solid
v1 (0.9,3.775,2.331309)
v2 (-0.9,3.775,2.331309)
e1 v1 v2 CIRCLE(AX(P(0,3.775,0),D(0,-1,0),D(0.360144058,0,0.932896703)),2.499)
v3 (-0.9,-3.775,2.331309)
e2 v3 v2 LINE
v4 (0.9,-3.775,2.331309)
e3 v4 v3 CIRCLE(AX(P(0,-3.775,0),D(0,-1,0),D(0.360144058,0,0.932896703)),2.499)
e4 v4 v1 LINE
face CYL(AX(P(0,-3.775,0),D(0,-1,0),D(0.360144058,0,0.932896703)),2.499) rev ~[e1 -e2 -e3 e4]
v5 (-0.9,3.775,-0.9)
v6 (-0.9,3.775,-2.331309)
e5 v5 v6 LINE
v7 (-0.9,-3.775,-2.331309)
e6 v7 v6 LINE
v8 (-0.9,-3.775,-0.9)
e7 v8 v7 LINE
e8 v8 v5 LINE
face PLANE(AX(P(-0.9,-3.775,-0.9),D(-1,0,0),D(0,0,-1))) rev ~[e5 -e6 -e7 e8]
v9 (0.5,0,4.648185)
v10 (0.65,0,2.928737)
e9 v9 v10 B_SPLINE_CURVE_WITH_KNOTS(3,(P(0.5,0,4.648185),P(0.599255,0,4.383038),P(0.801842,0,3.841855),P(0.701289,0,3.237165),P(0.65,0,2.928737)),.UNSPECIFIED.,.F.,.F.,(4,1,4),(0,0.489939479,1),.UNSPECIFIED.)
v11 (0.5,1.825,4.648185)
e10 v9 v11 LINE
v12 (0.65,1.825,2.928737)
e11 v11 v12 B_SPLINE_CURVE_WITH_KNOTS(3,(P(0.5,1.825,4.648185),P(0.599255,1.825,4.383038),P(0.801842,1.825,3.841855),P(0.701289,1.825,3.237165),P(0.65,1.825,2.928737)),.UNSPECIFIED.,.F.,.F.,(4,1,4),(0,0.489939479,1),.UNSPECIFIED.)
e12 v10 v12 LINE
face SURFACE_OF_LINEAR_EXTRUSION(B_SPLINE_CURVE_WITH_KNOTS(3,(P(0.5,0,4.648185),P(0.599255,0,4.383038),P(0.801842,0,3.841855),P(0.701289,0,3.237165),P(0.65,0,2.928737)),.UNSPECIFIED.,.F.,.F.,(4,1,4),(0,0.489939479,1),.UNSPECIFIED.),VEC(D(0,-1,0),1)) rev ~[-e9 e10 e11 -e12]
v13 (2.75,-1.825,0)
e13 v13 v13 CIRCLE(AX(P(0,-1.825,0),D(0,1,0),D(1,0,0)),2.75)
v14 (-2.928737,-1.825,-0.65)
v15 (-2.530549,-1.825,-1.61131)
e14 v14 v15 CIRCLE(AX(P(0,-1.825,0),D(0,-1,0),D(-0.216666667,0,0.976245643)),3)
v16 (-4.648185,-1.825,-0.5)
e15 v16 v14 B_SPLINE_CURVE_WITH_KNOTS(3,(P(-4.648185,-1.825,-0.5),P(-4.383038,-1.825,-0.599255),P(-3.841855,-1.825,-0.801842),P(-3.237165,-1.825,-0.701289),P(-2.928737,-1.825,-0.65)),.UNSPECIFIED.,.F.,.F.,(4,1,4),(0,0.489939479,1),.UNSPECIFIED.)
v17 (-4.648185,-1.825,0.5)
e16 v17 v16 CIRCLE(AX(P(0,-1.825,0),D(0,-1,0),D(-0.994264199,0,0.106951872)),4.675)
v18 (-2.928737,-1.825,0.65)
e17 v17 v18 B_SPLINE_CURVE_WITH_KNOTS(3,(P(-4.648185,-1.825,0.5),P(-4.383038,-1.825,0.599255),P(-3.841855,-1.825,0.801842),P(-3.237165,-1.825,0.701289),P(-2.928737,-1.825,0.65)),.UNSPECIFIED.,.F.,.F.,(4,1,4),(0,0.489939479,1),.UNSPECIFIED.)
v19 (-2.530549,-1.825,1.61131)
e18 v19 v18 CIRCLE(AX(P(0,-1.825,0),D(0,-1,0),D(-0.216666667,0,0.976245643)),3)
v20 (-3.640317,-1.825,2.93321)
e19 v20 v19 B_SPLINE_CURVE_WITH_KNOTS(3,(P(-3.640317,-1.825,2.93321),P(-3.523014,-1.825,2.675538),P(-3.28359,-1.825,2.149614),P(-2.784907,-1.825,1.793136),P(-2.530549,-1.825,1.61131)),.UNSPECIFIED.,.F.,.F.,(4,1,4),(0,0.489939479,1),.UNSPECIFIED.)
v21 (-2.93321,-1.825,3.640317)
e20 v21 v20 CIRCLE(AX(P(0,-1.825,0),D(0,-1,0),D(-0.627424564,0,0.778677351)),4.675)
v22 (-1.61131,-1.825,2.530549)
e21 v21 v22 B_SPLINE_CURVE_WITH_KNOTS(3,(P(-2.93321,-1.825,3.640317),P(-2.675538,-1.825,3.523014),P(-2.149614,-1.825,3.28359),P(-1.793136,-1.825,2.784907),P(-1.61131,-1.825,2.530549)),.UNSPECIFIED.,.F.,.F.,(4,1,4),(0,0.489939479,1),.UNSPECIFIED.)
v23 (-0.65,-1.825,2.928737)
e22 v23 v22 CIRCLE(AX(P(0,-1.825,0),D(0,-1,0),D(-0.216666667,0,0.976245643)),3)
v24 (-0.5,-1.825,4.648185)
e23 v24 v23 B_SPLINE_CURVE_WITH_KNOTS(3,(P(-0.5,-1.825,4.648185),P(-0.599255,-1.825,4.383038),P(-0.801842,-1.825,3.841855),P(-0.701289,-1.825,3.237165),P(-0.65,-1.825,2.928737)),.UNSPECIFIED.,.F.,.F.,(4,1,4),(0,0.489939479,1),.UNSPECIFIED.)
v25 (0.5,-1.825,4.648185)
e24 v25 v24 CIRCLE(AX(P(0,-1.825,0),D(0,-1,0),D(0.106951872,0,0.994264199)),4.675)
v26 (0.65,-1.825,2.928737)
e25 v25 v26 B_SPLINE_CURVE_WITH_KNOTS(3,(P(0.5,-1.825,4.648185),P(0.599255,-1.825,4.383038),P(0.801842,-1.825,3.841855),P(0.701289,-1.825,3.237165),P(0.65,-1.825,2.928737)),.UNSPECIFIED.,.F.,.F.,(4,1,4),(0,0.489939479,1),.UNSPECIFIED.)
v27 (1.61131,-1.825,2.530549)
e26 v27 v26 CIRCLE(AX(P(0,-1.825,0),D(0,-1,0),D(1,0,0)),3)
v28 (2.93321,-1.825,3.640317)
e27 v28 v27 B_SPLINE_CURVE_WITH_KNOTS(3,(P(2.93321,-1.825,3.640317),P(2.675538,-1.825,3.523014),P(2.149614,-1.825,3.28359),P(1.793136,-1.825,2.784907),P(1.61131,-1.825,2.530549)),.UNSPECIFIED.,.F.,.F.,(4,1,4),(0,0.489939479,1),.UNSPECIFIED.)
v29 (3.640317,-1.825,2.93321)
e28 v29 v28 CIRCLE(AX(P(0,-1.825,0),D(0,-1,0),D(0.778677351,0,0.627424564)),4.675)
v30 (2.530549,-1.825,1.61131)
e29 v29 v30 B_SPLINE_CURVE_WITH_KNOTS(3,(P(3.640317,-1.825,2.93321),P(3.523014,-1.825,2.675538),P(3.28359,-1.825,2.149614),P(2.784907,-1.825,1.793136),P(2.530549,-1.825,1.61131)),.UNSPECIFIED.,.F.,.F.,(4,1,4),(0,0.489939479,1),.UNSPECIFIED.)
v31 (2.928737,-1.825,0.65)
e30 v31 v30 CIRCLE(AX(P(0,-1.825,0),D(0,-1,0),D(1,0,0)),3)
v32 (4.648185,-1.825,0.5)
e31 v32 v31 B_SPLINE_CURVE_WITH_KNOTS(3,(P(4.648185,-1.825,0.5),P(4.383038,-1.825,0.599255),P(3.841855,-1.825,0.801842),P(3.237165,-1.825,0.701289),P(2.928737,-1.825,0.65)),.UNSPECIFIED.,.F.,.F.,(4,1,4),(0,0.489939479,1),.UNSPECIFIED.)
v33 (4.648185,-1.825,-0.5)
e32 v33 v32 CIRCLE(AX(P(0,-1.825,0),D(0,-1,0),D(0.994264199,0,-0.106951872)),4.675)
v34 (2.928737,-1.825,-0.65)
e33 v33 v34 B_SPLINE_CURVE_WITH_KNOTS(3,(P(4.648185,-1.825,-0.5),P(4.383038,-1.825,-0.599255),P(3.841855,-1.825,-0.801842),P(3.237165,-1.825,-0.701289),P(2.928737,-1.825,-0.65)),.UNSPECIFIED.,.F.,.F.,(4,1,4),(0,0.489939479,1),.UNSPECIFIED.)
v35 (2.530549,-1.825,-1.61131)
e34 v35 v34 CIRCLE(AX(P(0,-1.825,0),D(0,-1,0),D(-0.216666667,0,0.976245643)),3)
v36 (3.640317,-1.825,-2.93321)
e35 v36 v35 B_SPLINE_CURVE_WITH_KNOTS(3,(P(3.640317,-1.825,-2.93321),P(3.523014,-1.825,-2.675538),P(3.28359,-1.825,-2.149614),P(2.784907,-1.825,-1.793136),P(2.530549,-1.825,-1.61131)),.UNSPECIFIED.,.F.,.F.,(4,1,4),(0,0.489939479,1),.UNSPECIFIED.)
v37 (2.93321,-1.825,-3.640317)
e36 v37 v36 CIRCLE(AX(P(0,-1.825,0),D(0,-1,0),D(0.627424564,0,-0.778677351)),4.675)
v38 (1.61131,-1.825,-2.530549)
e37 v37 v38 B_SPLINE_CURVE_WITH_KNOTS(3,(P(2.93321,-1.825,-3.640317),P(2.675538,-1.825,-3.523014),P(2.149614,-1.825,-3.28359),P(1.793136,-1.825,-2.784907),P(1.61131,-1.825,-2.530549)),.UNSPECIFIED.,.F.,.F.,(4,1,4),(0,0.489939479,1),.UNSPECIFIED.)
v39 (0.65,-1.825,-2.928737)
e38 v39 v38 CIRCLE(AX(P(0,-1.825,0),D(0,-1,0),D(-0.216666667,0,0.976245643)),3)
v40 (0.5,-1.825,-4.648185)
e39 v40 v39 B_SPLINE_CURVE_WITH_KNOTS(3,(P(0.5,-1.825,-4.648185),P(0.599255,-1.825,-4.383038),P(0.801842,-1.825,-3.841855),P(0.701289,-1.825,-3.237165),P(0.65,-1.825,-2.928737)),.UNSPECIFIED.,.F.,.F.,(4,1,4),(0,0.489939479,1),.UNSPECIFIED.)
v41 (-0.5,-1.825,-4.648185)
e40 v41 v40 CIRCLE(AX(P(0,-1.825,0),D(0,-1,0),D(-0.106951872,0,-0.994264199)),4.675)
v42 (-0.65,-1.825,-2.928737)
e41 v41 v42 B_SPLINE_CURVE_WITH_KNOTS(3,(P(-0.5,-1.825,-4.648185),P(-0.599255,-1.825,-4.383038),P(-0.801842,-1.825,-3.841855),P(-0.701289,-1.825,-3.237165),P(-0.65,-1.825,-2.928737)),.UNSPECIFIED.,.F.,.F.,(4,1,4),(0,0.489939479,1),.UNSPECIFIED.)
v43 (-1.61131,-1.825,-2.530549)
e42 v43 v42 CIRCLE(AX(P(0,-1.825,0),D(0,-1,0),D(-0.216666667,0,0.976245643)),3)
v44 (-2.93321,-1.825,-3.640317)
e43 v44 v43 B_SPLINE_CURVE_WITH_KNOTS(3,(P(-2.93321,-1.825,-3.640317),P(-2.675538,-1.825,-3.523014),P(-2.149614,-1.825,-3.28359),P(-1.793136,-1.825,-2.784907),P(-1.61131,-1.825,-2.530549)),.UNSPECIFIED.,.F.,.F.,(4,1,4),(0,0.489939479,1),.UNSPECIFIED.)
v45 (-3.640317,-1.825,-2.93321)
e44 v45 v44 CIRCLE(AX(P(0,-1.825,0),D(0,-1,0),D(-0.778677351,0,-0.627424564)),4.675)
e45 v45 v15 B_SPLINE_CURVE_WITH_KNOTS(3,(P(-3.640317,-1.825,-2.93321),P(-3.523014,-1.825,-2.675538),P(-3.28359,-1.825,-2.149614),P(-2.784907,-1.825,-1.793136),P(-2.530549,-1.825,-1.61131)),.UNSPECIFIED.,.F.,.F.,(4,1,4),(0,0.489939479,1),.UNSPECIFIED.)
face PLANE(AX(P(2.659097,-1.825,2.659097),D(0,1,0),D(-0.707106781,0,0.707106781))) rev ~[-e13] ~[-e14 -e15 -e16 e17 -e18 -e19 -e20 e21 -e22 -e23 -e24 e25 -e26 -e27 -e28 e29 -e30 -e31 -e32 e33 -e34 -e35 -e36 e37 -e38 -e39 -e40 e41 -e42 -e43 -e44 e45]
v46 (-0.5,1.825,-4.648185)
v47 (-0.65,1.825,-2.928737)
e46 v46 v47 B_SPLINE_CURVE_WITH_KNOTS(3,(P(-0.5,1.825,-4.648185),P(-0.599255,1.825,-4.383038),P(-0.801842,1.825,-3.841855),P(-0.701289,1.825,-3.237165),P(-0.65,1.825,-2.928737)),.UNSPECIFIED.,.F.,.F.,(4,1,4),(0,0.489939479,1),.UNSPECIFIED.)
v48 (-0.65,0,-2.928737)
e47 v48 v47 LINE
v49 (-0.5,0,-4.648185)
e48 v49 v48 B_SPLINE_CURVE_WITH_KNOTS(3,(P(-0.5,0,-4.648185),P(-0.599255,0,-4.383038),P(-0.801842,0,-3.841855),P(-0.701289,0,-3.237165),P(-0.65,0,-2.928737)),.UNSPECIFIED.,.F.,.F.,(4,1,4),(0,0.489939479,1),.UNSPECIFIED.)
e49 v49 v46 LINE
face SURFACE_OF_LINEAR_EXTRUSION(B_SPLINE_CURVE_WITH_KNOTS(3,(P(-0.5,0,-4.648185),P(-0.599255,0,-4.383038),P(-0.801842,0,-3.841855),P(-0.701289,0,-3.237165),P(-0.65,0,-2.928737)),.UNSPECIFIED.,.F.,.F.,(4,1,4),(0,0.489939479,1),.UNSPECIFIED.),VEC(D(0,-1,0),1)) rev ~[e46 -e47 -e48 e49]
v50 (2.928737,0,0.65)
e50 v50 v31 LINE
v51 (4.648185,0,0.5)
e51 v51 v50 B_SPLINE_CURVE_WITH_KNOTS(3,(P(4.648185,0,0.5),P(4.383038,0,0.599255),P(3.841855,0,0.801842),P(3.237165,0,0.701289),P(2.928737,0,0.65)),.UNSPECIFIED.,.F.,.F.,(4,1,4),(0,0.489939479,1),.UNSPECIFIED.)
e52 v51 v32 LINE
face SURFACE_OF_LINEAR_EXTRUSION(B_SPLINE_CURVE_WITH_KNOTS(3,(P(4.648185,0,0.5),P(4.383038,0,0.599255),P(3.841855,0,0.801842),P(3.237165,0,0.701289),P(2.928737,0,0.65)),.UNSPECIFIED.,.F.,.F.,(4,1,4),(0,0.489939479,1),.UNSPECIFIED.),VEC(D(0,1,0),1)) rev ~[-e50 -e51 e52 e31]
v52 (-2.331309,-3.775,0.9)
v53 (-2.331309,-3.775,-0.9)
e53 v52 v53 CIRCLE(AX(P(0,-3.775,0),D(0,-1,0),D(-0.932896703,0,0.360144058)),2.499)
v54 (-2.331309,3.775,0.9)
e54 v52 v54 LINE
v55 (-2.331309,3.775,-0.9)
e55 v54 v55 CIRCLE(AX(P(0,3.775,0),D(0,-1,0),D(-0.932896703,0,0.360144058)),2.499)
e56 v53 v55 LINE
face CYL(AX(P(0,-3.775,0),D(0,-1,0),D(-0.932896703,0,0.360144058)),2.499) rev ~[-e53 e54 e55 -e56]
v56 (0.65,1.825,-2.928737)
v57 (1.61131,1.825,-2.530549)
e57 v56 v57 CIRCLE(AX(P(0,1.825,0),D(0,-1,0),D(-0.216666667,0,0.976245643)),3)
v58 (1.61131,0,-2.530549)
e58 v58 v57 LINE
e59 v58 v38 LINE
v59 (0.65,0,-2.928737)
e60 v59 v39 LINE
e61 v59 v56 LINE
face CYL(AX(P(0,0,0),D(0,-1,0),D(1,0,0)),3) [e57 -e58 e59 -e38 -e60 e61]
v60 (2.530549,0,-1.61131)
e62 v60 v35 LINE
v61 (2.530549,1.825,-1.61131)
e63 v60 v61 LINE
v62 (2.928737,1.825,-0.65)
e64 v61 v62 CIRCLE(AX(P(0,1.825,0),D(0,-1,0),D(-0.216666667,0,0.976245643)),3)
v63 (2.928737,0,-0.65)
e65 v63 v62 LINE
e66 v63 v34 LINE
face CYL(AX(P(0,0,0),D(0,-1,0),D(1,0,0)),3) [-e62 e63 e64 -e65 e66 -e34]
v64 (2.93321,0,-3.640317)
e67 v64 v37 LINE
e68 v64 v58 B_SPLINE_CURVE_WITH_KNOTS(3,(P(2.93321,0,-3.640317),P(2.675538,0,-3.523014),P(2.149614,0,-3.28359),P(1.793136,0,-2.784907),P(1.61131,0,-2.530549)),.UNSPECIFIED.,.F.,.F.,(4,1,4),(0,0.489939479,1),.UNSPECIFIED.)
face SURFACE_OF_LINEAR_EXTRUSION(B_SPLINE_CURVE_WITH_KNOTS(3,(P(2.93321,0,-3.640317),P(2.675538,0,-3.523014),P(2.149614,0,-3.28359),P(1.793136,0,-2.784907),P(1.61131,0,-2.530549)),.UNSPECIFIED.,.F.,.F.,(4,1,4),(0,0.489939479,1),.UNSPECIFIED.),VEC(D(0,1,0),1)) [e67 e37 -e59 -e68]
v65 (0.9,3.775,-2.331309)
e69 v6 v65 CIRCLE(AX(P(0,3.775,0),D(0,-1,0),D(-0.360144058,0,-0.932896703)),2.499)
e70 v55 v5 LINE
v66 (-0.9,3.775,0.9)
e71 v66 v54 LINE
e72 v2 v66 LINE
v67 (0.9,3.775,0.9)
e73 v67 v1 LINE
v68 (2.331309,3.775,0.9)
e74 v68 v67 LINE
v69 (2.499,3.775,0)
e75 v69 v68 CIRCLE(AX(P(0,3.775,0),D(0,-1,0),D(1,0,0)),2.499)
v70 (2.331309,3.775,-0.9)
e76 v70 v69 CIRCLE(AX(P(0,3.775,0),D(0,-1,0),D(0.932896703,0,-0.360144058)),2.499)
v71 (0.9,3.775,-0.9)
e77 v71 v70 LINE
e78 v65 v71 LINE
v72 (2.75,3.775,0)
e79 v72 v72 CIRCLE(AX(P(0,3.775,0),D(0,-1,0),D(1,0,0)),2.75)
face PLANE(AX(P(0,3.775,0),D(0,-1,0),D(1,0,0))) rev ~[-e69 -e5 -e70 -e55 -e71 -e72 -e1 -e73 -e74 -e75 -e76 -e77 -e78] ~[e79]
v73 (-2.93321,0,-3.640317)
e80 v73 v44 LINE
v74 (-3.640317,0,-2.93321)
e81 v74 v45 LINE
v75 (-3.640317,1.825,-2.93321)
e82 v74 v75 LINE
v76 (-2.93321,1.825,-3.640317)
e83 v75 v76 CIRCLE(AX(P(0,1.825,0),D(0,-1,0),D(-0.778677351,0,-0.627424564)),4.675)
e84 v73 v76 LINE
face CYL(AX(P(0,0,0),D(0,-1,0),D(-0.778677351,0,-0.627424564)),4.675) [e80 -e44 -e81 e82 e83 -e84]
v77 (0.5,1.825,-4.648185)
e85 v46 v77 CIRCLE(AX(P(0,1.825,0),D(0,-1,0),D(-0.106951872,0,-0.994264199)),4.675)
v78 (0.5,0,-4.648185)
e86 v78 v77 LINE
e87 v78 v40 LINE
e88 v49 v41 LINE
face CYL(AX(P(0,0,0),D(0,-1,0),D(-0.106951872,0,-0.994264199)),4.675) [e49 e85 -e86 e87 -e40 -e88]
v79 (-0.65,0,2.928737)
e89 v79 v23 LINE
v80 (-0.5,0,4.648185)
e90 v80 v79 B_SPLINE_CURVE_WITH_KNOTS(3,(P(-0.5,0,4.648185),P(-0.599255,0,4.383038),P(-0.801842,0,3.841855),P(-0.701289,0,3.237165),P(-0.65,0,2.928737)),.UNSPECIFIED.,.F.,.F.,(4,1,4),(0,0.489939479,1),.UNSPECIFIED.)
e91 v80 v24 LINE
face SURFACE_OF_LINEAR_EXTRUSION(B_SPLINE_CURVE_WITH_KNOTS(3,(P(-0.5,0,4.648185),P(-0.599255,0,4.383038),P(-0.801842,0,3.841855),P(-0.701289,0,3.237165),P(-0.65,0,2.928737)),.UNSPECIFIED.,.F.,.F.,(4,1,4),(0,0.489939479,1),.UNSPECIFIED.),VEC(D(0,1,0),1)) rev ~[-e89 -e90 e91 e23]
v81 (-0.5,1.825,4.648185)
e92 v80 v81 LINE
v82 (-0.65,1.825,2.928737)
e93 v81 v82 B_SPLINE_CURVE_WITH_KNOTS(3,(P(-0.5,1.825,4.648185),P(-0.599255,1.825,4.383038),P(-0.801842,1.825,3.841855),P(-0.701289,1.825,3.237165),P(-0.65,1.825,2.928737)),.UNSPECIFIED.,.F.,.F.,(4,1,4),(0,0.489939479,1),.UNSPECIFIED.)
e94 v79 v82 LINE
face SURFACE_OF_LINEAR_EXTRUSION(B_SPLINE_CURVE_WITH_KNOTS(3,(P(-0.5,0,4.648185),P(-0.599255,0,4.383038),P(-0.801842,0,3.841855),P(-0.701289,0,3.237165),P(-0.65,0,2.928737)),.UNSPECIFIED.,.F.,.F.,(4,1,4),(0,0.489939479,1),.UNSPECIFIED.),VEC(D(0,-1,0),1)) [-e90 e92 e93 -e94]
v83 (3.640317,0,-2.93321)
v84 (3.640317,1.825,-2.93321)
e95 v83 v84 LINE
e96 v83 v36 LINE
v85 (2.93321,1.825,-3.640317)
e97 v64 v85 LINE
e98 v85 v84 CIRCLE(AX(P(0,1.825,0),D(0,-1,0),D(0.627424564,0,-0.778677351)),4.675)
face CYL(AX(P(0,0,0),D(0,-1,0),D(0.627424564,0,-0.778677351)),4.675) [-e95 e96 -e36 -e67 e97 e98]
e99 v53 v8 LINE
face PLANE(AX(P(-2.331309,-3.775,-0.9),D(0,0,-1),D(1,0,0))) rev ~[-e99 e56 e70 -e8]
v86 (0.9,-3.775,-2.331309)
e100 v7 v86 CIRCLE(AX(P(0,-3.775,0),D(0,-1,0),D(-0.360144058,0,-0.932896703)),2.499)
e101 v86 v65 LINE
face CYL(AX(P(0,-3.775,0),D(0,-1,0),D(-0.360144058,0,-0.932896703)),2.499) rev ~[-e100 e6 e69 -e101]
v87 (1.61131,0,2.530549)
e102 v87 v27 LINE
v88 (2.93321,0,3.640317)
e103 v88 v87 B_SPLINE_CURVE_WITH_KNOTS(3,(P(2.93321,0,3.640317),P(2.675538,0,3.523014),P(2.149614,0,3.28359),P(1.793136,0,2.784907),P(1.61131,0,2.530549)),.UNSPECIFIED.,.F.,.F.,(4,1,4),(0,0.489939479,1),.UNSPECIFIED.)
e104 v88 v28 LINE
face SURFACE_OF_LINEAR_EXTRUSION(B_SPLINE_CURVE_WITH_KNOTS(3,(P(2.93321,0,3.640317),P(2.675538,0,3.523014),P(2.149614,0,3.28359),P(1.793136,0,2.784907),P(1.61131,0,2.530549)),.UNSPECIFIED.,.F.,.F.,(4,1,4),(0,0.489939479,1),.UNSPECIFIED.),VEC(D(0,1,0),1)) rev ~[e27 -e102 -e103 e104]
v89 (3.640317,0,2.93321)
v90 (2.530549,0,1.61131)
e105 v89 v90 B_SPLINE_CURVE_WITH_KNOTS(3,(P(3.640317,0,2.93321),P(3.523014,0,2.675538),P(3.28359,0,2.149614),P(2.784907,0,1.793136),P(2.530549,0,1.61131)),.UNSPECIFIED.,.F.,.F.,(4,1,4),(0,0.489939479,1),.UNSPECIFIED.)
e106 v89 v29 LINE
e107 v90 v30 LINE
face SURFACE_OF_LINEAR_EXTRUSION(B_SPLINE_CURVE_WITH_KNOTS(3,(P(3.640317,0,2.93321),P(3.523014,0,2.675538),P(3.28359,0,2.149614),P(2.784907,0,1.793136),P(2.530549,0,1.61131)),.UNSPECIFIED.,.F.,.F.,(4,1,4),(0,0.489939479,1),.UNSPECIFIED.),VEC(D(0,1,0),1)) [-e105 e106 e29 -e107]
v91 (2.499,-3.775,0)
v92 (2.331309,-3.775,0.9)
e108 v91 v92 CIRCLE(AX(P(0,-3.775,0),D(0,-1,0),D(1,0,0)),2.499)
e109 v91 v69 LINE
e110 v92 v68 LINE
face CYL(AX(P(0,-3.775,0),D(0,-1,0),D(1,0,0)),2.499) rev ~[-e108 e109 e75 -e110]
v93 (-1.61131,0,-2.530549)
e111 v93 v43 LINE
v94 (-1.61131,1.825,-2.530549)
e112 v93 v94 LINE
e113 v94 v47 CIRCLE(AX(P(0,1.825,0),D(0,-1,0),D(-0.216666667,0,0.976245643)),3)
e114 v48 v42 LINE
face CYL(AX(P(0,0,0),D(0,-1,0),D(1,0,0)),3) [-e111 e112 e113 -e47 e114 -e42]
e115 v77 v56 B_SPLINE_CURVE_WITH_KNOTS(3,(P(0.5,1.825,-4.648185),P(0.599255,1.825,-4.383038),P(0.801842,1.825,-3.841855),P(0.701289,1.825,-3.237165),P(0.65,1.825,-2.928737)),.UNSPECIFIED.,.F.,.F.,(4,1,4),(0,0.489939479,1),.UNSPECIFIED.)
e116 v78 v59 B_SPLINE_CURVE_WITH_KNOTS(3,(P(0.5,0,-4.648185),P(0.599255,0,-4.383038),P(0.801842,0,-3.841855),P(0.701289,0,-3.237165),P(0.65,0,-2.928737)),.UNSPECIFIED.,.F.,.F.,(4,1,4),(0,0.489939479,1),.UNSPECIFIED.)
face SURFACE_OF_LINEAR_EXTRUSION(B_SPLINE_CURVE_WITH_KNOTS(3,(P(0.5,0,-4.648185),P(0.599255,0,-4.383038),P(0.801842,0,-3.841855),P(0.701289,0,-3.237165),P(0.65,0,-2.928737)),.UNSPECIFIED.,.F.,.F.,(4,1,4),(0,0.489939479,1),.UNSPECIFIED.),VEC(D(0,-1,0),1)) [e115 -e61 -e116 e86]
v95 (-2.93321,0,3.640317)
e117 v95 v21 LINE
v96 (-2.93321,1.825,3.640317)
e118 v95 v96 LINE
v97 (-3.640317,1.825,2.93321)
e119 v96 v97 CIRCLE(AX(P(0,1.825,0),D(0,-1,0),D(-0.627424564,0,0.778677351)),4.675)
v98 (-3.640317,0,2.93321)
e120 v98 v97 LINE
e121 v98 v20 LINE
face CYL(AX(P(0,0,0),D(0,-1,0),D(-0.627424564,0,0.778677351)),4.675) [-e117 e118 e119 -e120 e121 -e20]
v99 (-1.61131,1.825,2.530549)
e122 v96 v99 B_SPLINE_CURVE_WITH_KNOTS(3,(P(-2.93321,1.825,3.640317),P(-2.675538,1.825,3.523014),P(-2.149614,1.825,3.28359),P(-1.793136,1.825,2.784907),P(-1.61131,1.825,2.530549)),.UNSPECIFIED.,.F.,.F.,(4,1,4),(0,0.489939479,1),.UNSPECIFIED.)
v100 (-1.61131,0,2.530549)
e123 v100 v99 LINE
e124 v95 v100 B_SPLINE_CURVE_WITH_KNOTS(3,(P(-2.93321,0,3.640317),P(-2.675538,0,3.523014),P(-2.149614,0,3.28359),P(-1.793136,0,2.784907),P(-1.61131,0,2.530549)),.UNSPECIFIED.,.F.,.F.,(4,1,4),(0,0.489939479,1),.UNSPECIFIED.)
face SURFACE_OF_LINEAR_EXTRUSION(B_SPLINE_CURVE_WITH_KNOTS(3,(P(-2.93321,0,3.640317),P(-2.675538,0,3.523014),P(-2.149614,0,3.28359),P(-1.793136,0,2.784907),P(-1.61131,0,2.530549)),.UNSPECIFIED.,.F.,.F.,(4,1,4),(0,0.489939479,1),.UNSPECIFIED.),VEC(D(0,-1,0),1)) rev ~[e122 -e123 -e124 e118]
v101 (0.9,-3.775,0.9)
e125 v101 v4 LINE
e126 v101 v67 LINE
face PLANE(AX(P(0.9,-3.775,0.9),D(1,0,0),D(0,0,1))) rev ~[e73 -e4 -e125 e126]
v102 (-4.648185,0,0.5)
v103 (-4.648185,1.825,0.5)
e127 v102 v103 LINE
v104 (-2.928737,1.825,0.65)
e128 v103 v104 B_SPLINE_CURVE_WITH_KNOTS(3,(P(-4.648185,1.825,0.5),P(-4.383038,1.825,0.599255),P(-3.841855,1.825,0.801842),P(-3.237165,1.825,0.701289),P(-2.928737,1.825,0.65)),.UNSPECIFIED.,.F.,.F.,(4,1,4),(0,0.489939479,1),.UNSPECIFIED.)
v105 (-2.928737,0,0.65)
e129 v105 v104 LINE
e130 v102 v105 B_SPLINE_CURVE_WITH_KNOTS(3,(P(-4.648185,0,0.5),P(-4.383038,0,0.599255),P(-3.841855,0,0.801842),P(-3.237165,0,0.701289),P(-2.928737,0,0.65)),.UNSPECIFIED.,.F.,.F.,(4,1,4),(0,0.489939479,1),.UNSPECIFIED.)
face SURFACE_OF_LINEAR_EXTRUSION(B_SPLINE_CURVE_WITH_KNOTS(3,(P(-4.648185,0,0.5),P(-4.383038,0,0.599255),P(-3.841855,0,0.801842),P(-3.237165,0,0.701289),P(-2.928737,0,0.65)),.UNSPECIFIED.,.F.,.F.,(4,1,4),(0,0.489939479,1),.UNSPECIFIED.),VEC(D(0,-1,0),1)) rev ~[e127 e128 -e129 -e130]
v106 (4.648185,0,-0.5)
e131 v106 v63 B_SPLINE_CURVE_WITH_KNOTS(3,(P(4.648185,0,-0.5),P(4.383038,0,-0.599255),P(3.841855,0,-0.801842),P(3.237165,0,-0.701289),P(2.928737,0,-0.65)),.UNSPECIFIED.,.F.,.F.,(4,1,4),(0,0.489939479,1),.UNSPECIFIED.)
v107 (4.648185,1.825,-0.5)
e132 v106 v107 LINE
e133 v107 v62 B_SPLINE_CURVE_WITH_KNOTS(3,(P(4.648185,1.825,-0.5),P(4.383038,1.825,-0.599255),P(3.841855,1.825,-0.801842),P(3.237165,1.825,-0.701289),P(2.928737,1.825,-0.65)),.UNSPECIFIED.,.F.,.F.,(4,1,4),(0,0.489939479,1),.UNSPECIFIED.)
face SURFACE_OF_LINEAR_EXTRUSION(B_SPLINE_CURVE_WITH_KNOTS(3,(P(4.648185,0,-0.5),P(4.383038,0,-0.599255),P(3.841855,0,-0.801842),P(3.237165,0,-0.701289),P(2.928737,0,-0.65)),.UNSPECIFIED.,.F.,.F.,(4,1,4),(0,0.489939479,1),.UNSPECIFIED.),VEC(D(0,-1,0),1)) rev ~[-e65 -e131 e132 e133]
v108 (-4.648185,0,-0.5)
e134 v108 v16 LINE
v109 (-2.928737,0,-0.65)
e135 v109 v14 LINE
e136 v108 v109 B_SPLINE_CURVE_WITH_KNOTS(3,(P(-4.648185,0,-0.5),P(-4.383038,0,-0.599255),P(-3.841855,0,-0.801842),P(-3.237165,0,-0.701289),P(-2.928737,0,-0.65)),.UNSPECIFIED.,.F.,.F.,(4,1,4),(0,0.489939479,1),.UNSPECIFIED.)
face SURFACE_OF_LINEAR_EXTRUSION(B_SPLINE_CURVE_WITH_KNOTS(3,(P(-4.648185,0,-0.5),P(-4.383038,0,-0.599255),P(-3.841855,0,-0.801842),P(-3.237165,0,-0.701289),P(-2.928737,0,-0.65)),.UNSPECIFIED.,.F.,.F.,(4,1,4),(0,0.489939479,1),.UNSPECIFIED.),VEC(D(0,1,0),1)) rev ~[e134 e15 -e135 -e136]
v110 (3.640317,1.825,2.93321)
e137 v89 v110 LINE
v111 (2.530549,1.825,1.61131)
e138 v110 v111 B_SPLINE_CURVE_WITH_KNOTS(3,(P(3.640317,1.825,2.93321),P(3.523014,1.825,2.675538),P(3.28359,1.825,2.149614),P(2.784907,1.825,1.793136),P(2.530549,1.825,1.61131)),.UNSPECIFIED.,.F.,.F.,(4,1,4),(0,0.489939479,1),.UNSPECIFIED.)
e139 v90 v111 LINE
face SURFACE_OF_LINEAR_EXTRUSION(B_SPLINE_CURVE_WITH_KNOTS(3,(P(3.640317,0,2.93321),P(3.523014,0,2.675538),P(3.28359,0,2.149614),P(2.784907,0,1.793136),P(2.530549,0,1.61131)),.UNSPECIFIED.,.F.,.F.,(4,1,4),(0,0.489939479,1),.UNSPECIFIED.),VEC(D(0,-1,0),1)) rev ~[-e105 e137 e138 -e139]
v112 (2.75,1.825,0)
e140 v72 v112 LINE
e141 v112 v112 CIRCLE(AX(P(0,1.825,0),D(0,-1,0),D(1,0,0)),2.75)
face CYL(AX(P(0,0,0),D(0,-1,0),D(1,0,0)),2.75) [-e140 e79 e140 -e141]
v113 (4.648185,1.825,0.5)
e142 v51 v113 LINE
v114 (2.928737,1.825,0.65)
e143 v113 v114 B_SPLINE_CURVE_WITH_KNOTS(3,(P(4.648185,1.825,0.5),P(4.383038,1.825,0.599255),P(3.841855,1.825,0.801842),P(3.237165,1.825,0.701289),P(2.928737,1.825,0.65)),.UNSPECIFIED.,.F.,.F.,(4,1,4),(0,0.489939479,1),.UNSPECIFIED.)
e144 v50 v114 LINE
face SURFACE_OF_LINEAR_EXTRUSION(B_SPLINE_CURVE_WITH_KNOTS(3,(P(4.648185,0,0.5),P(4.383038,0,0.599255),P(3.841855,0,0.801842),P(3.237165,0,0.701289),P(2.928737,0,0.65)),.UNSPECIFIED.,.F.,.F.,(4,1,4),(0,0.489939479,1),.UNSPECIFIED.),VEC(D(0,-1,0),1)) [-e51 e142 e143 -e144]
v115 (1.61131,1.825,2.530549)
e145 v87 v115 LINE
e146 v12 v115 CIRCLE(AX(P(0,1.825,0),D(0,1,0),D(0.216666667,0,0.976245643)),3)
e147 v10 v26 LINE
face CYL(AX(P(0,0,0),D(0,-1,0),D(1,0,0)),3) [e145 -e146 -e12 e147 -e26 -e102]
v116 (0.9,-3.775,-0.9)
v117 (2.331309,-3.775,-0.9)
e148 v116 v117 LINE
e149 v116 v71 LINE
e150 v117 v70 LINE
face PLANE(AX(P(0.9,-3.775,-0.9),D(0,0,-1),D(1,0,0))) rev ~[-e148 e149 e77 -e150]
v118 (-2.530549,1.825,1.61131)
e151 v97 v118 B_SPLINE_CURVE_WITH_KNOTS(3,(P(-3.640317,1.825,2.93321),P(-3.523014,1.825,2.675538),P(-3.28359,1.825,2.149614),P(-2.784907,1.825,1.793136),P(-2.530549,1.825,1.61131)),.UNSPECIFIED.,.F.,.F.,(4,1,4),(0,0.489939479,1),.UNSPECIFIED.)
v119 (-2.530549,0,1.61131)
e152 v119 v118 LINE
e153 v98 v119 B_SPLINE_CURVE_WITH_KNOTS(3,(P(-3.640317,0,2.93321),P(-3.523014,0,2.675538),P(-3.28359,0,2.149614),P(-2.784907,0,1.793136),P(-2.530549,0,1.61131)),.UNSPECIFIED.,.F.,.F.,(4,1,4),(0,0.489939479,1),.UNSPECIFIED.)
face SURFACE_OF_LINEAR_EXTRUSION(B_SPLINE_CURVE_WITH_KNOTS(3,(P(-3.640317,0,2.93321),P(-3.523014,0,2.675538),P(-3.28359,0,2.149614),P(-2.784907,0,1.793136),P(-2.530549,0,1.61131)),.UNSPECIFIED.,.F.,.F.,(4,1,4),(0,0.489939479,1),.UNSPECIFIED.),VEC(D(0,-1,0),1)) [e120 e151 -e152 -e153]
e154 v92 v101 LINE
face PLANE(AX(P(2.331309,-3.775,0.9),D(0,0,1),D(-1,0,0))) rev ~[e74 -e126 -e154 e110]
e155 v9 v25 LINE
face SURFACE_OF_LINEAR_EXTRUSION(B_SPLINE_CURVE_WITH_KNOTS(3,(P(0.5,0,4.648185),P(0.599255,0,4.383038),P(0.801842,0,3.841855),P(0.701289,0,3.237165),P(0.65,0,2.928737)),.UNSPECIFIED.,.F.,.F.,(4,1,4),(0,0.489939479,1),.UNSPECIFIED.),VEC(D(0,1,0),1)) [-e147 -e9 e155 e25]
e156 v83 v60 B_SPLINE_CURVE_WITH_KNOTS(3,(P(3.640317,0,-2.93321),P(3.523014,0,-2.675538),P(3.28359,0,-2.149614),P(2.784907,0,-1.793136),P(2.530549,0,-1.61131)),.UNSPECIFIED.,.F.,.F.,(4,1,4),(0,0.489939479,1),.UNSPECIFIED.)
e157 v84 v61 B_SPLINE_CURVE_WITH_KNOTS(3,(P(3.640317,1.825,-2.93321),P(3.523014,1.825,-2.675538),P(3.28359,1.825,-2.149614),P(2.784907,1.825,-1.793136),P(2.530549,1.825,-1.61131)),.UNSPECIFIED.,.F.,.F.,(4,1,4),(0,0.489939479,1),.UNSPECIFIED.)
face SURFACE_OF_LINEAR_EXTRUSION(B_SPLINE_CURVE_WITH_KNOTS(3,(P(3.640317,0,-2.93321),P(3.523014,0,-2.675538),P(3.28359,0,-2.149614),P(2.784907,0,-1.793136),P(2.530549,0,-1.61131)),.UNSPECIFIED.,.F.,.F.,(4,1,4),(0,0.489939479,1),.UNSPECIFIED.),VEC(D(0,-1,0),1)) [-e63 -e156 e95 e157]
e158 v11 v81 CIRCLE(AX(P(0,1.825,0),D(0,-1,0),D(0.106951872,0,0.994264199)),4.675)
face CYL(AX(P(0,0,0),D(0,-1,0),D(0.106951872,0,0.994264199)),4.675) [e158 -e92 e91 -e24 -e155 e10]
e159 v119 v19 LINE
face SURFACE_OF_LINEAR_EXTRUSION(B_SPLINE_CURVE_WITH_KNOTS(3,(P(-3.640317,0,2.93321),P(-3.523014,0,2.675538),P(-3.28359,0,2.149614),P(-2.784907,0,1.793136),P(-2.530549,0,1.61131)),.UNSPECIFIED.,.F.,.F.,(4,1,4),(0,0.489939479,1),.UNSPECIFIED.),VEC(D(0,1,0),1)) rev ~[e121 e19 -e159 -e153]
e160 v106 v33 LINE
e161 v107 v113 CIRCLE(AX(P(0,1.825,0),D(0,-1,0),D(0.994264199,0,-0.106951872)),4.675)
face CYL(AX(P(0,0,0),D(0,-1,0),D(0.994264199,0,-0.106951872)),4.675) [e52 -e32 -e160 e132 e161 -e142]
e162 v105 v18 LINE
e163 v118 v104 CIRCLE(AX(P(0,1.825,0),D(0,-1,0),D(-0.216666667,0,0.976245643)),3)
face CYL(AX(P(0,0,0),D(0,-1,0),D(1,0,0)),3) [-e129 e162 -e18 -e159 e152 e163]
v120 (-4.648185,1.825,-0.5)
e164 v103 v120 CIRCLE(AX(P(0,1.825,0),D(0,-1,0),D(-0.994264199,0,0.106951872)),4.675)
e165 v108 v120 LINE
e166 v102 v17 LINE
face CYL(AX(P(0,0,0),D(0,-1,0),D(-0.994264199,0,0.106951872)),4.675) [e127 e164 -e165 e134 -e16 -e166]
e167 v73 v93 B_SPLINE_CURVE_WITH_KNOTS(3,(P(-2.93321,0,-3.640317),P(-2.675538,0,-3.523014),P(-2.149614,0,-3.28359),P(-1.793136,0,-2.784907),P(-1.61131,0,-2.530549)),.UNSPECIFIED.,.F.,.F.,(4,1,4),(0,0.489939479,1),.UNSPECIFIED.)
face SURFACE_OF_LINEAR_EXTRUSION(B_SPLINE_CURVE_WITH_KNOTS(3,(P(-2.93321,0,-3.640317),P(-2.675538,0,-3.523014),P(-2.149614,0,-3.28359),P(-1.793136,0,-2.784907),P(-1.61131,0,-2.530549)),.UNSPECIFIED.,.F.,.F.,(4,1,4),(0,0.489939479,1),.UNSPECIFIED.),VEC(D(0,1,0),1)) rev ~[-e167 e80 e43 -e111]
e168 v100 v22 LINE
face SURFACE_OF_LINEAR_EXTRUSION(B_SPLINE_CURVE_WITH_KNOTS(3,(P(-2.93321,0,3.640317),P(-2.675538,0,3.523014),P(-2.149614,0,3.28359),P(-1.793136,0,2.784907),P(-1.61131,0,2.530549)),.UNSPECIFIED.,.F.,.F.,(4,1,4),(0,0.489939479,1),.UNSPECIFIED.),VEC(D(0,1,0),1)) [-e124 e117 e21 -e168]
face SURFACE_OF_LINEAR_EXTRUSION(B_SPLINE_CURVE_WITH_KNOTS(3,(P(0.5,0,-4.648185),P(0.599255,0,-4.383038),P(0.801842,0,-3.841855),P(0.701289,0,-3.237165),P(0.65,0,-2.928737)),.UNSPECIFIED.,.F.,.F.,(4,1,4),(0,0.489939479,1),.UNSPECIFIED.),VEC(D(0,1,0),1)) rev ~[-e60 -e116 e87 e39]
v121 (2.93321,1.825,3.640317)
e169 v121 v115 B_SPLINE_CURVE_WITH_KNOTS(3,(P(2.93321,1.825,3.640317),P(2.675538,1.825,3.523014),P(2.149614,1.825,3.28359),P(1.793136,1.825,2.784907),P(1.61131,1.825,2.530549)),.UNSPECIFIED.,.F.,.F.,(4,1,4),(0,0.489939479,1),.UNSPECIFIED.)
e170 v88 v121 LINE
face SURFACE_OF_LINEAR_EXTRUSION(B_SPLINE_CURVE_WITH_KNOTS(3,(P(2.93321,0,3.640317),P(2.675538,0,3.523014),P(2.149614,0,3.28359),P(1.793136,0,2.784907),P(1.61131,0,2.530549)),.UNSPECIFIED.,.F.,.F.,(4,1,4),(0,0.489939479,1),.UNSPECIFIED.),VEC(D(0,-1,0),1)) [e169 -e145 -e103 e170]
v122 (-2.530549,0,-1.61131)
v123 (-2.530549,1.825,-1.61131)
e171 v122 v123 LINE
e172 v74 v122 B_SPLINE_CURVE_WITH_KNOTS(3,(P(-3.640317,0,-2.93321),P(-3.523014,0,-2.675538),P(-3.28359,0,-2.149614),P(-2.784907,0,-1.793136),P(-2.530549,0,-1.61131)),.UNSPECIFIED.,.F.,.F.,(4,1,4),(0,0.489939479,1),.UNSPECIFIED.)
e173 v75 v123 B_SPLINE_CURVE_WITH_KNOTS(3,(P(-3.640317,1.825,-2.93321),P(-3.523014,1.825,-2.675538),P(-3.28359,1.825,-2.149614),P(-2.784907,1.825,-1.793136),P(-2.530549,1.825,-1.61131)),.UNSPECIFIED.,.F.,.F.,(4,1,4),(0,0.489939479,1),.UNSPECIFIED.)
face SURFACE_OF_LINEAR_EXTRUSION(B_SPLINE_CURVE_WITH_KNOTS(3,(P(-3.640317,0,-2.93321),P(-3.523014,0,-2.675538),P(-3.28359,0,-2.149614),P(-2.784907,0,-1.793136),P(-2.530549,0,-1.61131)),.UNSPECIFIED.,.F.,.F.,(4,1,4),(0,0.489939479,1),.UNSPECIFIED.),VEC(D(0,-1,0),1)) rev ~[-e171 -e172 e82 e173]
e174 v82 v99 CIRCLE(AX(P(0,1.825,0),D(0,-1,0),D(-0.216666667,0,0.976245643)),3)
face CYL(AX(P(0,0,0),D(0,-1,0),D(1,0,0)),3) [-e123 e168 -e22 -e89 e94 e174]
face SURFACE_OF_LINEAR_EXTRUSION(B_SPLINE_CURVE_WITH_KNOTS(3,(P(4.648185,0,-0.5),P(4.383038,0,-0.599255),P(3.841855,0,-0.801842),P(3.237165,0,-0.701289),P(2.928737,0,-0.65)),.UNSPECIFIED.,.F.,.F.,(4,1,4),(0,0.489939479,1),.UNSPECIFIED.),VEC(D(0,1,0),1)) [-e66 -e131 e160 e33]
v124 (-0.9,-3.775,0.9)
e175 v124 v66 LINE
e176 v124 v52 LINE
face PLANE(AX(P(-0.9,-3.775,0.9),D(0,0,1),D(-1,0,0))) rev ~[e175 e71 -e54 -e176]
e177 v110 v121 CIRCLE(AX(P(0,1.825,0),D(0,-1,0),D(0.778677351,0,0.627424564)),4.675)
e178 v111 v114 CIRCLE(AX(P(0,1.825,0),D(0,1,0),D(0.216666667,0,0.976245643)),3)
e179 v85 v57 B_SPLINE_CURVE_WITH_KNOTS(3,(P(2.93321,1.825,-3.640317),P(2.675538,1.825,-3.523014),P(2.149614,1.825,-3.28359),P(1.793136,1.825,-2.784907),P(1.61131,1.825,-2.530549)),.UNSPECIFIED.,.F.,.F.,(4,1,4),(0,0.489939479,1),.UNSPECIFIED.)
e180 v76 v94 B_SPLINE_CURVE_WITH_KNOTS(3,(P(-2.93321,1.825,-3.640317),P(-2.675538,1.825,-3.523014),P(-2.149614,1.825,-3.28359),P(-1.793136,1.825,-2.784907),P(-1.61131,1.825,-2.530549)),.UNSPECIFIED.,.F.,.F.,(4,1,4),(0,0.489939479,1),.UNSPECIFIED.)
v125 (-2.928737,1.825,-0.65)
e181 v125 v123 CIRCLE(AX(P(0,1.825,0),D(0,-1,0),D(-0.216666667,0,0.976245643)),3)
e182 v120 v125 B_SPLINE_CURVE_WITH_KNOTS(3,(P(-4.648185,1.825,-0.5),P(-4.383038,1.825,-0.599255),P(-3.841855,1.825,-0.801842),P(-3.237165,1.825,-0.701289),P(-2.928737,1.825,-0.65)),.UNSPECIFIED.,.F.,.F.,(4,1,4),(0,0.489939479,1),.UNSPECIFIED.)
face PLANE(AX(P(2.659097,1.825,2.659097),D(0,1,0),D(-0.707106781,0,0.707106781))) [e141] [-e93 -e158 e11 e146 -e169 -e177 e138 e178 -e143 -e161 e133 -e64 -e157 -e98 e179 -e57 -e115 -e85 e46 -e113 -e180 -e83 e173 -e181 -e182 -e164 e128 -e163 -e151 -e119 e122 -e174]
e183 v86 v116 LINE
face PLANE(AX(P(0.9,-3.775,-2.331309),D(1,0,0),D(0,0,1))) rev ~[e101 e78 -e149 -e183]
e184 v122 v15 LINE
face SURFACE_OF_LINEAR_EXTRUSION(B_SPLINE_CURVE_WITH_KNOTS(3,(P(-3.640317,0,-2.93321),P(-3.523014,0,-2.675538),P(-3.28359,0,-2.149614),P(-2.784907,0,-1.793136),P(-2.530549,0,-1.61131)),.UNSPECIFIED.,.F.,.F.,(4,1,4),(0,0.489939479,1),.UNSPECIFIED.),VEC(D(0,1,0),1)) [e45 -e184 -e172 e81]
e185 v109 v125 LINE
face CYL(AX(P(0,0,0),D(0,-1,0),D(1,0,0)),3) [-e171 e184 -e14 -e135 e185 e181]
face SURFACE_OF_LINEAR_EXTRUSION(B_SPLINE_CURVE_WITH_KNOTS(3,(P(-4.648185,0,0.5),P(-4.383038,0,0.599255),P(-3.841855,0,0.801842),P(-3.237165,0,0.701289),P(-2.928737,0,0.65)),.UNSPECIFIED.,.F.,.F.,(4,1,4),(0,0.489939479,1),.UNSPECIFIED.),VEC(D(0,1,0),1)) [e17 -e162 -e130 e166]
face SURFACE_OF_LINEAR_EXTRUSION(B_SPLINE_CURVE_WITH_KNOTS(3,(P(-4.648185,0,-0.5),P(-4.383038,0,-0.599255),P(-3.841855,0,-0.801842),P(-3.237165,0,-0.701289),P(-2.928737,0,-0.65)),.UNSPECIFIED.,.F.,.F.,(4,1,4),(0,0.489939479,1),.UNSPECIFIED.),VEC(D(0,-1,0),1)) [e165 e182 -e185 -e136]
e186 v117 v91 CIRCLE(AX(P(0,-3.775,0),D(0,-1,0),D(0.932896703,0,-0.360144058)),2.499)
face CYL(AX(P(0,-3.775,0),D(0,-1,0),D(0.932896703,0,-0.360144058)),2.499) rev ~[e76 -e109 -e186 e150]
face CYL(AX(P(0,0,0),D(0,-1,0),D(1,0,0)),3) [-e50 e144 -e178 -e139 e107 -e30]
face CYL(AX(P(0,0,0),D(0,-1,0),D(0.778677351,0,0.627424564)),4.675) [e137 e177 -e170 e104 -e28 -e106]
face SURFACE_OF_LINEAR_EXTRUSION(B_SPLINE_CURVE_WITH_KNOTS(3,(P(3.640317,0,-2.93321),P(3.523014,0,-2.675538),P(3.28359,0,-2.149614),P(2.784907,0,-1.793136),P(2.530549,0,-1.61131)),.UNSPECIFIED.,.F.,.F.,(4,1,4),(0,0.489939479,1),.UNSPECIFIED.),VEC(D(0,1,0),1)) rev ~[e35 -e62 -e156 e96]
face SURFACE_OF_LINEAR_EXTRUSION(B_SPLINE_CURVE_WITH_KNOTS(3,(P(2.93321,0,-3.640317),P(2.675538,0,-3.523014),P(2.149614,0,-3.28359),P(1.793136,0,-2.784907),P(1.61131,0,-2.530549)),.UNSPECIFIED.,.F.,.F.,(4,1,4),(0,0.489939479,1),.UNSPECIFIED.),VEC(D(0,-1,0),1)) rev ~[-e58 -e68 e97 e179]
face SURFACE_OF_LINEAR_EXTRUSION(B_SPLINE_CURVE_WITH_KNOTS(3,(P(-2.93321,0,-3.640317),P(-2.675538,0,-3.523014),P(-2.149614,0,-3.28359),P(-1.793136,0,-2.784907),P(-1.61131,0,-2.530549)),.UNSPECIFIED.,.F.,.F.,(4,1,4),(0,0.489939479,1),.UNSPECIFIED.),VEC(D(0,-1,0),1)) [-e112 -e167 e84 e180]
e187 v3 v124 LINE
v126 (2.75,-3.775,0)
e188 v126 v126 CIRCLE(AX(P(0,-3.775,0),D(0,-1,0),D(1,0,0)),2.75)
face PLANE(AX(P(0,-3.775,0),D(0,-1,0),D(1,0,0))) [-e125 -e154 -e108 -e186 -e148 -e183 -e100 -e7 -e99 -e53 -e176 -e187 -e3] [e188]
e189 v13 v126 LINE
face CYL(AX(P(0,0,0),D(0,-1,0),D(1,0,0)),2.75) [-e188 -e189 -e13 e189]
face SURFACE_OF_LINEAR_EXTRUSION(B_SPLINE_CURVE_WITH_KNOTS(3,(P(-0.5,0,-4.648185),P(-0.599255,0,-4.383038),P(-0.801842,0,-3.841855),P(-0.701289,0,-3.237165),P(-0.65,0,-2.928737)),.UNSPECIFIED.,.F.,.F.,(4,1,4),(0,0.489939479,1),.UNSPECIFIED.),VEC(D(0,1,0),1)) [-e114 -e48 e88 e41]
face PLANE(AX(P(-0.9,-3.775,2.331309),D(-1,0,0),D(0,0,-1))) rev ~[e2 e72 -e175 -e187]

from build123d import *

# Parameters (mm, degrees)
F0_R     = 2.75
F1_DEPTH = 1.825
F3_COUNT = 8
F4_DEPTH = 3.775
F6_DEPTH = 7.551


with BuildPart() as f1:
    # F0 (on Front) → F1 (new body, symmetric)
    with BuildSketch(Plane.XZ):
        with BuildLine():
            add(Edge.make_bspline(
                [(0.5, 4.6481851297), (0.5992553827, 4.3830381396), (0.8018424102, 3.8418549905), (0.7012885529, 3.2371652786), (0.65, 2.9287369291)],
                knots=[0, 0, 0, 0, 0.489939479, 1, 1, 1, 1], degree=3))
            ThreePointArc((0.5, 4.6481851297), (0, 4.675), (-0.5, 4.6481851297))
            add(Edge.make_bspline(
                [(-0.5, 4.6481851297), (-0.5992553827, 4.3830381396), (-0.8018424102, 3.8418549905), (-0.7012885529, 3.2371652786), (-0.65, 2.9287369291)],
                knots=[0, 0, 0, 0, 0.489939479, 1, 1, 1, 1], degree=3))
            ThreePointArc((-0.65, 2.9287369291), (0, 3), (0.65, 2.9287369291))
        make_face()
        with BuildLine():
            ThreePointArc((3, 0), (2.3398717914, 1.8774983356), (0.65, 2.9287369291))
            ThreePointArc((0.65, 2.9287369291), (0, 3), (-0.65, 2.9287369291))
            ThreePointArc((-0.65, 2.9287369291), (-1.8774983356, -2.3398717914), (3, 0))
        make_face()
        Circle(F0_R, mode=Mode.SUBTRACT)
    extrude(amount=F1_DEPTH, both=True)

    # F3: F1 ×8 about axis
    f3_axis = Axis((0, -1.825, 0), (0, -1, 0))


with BuildPart() as f1_1:
    add(f1.part)
    for i in range(1, F3_COUNT):
        add(f1.part.rotate(f3_axis, i * 360 / F3_COUNT))

    # F0 (on Front) → F4 (join, symmetric)
    with BuildSketch(Plane.XZ):
        Circle(F0_R)
    extrude(amount=F4_DEPTH, both=True)

    # F5 (on face) → F6 (cut, through all)
    with BuildSketch(Plane.XZ.offset(3.775)):
        with BuildLine():
            ThreePointArc((2.3313088598, -0.9), (2.4567195445, -0.4577445572), (2.499, 0))
            ThreePointArc((2.499, 0), (2.4567195445, 0.4577445572), (2.3313088598, 0.9))
            Line((2.3313088598, 0.9), (0.9, 0.9))
            Line((0.9, 0.9), (0.9, 2.3313088598))
            ThreePointArc((0.9, 2.3313088598), (0, 2.499), (-0.9, 2.3313088598))
            Line((-0.9, 2.3313088598), (-0.9, 0.9))
            Line((-0.9, 0.9), (-2.3313088598, 0.9))
            ThreePointArc((-2.3313088598, 0.9), (-2.499, 0), (-2.3313088598, -0.9))
            Line((-2.3313088598, -0.9), (-0.9, -0.9))
            Line((-0.9, -0.9), (-0.9, -2.3313088598))
            ThreePointArc((-0.9, -2.3313088598), (0, -2.499), (0.9, -2.3313088598))
            Line((0.9, -2.3313088598), (0.9, -0.9))
            Line((0.9, -0.9), (2.3313088598, -0.9))
        make_face()
    extrude(amount=-F6_DEPTH, mode=Mode.SUBTRACT)


solid = f1_1.part
